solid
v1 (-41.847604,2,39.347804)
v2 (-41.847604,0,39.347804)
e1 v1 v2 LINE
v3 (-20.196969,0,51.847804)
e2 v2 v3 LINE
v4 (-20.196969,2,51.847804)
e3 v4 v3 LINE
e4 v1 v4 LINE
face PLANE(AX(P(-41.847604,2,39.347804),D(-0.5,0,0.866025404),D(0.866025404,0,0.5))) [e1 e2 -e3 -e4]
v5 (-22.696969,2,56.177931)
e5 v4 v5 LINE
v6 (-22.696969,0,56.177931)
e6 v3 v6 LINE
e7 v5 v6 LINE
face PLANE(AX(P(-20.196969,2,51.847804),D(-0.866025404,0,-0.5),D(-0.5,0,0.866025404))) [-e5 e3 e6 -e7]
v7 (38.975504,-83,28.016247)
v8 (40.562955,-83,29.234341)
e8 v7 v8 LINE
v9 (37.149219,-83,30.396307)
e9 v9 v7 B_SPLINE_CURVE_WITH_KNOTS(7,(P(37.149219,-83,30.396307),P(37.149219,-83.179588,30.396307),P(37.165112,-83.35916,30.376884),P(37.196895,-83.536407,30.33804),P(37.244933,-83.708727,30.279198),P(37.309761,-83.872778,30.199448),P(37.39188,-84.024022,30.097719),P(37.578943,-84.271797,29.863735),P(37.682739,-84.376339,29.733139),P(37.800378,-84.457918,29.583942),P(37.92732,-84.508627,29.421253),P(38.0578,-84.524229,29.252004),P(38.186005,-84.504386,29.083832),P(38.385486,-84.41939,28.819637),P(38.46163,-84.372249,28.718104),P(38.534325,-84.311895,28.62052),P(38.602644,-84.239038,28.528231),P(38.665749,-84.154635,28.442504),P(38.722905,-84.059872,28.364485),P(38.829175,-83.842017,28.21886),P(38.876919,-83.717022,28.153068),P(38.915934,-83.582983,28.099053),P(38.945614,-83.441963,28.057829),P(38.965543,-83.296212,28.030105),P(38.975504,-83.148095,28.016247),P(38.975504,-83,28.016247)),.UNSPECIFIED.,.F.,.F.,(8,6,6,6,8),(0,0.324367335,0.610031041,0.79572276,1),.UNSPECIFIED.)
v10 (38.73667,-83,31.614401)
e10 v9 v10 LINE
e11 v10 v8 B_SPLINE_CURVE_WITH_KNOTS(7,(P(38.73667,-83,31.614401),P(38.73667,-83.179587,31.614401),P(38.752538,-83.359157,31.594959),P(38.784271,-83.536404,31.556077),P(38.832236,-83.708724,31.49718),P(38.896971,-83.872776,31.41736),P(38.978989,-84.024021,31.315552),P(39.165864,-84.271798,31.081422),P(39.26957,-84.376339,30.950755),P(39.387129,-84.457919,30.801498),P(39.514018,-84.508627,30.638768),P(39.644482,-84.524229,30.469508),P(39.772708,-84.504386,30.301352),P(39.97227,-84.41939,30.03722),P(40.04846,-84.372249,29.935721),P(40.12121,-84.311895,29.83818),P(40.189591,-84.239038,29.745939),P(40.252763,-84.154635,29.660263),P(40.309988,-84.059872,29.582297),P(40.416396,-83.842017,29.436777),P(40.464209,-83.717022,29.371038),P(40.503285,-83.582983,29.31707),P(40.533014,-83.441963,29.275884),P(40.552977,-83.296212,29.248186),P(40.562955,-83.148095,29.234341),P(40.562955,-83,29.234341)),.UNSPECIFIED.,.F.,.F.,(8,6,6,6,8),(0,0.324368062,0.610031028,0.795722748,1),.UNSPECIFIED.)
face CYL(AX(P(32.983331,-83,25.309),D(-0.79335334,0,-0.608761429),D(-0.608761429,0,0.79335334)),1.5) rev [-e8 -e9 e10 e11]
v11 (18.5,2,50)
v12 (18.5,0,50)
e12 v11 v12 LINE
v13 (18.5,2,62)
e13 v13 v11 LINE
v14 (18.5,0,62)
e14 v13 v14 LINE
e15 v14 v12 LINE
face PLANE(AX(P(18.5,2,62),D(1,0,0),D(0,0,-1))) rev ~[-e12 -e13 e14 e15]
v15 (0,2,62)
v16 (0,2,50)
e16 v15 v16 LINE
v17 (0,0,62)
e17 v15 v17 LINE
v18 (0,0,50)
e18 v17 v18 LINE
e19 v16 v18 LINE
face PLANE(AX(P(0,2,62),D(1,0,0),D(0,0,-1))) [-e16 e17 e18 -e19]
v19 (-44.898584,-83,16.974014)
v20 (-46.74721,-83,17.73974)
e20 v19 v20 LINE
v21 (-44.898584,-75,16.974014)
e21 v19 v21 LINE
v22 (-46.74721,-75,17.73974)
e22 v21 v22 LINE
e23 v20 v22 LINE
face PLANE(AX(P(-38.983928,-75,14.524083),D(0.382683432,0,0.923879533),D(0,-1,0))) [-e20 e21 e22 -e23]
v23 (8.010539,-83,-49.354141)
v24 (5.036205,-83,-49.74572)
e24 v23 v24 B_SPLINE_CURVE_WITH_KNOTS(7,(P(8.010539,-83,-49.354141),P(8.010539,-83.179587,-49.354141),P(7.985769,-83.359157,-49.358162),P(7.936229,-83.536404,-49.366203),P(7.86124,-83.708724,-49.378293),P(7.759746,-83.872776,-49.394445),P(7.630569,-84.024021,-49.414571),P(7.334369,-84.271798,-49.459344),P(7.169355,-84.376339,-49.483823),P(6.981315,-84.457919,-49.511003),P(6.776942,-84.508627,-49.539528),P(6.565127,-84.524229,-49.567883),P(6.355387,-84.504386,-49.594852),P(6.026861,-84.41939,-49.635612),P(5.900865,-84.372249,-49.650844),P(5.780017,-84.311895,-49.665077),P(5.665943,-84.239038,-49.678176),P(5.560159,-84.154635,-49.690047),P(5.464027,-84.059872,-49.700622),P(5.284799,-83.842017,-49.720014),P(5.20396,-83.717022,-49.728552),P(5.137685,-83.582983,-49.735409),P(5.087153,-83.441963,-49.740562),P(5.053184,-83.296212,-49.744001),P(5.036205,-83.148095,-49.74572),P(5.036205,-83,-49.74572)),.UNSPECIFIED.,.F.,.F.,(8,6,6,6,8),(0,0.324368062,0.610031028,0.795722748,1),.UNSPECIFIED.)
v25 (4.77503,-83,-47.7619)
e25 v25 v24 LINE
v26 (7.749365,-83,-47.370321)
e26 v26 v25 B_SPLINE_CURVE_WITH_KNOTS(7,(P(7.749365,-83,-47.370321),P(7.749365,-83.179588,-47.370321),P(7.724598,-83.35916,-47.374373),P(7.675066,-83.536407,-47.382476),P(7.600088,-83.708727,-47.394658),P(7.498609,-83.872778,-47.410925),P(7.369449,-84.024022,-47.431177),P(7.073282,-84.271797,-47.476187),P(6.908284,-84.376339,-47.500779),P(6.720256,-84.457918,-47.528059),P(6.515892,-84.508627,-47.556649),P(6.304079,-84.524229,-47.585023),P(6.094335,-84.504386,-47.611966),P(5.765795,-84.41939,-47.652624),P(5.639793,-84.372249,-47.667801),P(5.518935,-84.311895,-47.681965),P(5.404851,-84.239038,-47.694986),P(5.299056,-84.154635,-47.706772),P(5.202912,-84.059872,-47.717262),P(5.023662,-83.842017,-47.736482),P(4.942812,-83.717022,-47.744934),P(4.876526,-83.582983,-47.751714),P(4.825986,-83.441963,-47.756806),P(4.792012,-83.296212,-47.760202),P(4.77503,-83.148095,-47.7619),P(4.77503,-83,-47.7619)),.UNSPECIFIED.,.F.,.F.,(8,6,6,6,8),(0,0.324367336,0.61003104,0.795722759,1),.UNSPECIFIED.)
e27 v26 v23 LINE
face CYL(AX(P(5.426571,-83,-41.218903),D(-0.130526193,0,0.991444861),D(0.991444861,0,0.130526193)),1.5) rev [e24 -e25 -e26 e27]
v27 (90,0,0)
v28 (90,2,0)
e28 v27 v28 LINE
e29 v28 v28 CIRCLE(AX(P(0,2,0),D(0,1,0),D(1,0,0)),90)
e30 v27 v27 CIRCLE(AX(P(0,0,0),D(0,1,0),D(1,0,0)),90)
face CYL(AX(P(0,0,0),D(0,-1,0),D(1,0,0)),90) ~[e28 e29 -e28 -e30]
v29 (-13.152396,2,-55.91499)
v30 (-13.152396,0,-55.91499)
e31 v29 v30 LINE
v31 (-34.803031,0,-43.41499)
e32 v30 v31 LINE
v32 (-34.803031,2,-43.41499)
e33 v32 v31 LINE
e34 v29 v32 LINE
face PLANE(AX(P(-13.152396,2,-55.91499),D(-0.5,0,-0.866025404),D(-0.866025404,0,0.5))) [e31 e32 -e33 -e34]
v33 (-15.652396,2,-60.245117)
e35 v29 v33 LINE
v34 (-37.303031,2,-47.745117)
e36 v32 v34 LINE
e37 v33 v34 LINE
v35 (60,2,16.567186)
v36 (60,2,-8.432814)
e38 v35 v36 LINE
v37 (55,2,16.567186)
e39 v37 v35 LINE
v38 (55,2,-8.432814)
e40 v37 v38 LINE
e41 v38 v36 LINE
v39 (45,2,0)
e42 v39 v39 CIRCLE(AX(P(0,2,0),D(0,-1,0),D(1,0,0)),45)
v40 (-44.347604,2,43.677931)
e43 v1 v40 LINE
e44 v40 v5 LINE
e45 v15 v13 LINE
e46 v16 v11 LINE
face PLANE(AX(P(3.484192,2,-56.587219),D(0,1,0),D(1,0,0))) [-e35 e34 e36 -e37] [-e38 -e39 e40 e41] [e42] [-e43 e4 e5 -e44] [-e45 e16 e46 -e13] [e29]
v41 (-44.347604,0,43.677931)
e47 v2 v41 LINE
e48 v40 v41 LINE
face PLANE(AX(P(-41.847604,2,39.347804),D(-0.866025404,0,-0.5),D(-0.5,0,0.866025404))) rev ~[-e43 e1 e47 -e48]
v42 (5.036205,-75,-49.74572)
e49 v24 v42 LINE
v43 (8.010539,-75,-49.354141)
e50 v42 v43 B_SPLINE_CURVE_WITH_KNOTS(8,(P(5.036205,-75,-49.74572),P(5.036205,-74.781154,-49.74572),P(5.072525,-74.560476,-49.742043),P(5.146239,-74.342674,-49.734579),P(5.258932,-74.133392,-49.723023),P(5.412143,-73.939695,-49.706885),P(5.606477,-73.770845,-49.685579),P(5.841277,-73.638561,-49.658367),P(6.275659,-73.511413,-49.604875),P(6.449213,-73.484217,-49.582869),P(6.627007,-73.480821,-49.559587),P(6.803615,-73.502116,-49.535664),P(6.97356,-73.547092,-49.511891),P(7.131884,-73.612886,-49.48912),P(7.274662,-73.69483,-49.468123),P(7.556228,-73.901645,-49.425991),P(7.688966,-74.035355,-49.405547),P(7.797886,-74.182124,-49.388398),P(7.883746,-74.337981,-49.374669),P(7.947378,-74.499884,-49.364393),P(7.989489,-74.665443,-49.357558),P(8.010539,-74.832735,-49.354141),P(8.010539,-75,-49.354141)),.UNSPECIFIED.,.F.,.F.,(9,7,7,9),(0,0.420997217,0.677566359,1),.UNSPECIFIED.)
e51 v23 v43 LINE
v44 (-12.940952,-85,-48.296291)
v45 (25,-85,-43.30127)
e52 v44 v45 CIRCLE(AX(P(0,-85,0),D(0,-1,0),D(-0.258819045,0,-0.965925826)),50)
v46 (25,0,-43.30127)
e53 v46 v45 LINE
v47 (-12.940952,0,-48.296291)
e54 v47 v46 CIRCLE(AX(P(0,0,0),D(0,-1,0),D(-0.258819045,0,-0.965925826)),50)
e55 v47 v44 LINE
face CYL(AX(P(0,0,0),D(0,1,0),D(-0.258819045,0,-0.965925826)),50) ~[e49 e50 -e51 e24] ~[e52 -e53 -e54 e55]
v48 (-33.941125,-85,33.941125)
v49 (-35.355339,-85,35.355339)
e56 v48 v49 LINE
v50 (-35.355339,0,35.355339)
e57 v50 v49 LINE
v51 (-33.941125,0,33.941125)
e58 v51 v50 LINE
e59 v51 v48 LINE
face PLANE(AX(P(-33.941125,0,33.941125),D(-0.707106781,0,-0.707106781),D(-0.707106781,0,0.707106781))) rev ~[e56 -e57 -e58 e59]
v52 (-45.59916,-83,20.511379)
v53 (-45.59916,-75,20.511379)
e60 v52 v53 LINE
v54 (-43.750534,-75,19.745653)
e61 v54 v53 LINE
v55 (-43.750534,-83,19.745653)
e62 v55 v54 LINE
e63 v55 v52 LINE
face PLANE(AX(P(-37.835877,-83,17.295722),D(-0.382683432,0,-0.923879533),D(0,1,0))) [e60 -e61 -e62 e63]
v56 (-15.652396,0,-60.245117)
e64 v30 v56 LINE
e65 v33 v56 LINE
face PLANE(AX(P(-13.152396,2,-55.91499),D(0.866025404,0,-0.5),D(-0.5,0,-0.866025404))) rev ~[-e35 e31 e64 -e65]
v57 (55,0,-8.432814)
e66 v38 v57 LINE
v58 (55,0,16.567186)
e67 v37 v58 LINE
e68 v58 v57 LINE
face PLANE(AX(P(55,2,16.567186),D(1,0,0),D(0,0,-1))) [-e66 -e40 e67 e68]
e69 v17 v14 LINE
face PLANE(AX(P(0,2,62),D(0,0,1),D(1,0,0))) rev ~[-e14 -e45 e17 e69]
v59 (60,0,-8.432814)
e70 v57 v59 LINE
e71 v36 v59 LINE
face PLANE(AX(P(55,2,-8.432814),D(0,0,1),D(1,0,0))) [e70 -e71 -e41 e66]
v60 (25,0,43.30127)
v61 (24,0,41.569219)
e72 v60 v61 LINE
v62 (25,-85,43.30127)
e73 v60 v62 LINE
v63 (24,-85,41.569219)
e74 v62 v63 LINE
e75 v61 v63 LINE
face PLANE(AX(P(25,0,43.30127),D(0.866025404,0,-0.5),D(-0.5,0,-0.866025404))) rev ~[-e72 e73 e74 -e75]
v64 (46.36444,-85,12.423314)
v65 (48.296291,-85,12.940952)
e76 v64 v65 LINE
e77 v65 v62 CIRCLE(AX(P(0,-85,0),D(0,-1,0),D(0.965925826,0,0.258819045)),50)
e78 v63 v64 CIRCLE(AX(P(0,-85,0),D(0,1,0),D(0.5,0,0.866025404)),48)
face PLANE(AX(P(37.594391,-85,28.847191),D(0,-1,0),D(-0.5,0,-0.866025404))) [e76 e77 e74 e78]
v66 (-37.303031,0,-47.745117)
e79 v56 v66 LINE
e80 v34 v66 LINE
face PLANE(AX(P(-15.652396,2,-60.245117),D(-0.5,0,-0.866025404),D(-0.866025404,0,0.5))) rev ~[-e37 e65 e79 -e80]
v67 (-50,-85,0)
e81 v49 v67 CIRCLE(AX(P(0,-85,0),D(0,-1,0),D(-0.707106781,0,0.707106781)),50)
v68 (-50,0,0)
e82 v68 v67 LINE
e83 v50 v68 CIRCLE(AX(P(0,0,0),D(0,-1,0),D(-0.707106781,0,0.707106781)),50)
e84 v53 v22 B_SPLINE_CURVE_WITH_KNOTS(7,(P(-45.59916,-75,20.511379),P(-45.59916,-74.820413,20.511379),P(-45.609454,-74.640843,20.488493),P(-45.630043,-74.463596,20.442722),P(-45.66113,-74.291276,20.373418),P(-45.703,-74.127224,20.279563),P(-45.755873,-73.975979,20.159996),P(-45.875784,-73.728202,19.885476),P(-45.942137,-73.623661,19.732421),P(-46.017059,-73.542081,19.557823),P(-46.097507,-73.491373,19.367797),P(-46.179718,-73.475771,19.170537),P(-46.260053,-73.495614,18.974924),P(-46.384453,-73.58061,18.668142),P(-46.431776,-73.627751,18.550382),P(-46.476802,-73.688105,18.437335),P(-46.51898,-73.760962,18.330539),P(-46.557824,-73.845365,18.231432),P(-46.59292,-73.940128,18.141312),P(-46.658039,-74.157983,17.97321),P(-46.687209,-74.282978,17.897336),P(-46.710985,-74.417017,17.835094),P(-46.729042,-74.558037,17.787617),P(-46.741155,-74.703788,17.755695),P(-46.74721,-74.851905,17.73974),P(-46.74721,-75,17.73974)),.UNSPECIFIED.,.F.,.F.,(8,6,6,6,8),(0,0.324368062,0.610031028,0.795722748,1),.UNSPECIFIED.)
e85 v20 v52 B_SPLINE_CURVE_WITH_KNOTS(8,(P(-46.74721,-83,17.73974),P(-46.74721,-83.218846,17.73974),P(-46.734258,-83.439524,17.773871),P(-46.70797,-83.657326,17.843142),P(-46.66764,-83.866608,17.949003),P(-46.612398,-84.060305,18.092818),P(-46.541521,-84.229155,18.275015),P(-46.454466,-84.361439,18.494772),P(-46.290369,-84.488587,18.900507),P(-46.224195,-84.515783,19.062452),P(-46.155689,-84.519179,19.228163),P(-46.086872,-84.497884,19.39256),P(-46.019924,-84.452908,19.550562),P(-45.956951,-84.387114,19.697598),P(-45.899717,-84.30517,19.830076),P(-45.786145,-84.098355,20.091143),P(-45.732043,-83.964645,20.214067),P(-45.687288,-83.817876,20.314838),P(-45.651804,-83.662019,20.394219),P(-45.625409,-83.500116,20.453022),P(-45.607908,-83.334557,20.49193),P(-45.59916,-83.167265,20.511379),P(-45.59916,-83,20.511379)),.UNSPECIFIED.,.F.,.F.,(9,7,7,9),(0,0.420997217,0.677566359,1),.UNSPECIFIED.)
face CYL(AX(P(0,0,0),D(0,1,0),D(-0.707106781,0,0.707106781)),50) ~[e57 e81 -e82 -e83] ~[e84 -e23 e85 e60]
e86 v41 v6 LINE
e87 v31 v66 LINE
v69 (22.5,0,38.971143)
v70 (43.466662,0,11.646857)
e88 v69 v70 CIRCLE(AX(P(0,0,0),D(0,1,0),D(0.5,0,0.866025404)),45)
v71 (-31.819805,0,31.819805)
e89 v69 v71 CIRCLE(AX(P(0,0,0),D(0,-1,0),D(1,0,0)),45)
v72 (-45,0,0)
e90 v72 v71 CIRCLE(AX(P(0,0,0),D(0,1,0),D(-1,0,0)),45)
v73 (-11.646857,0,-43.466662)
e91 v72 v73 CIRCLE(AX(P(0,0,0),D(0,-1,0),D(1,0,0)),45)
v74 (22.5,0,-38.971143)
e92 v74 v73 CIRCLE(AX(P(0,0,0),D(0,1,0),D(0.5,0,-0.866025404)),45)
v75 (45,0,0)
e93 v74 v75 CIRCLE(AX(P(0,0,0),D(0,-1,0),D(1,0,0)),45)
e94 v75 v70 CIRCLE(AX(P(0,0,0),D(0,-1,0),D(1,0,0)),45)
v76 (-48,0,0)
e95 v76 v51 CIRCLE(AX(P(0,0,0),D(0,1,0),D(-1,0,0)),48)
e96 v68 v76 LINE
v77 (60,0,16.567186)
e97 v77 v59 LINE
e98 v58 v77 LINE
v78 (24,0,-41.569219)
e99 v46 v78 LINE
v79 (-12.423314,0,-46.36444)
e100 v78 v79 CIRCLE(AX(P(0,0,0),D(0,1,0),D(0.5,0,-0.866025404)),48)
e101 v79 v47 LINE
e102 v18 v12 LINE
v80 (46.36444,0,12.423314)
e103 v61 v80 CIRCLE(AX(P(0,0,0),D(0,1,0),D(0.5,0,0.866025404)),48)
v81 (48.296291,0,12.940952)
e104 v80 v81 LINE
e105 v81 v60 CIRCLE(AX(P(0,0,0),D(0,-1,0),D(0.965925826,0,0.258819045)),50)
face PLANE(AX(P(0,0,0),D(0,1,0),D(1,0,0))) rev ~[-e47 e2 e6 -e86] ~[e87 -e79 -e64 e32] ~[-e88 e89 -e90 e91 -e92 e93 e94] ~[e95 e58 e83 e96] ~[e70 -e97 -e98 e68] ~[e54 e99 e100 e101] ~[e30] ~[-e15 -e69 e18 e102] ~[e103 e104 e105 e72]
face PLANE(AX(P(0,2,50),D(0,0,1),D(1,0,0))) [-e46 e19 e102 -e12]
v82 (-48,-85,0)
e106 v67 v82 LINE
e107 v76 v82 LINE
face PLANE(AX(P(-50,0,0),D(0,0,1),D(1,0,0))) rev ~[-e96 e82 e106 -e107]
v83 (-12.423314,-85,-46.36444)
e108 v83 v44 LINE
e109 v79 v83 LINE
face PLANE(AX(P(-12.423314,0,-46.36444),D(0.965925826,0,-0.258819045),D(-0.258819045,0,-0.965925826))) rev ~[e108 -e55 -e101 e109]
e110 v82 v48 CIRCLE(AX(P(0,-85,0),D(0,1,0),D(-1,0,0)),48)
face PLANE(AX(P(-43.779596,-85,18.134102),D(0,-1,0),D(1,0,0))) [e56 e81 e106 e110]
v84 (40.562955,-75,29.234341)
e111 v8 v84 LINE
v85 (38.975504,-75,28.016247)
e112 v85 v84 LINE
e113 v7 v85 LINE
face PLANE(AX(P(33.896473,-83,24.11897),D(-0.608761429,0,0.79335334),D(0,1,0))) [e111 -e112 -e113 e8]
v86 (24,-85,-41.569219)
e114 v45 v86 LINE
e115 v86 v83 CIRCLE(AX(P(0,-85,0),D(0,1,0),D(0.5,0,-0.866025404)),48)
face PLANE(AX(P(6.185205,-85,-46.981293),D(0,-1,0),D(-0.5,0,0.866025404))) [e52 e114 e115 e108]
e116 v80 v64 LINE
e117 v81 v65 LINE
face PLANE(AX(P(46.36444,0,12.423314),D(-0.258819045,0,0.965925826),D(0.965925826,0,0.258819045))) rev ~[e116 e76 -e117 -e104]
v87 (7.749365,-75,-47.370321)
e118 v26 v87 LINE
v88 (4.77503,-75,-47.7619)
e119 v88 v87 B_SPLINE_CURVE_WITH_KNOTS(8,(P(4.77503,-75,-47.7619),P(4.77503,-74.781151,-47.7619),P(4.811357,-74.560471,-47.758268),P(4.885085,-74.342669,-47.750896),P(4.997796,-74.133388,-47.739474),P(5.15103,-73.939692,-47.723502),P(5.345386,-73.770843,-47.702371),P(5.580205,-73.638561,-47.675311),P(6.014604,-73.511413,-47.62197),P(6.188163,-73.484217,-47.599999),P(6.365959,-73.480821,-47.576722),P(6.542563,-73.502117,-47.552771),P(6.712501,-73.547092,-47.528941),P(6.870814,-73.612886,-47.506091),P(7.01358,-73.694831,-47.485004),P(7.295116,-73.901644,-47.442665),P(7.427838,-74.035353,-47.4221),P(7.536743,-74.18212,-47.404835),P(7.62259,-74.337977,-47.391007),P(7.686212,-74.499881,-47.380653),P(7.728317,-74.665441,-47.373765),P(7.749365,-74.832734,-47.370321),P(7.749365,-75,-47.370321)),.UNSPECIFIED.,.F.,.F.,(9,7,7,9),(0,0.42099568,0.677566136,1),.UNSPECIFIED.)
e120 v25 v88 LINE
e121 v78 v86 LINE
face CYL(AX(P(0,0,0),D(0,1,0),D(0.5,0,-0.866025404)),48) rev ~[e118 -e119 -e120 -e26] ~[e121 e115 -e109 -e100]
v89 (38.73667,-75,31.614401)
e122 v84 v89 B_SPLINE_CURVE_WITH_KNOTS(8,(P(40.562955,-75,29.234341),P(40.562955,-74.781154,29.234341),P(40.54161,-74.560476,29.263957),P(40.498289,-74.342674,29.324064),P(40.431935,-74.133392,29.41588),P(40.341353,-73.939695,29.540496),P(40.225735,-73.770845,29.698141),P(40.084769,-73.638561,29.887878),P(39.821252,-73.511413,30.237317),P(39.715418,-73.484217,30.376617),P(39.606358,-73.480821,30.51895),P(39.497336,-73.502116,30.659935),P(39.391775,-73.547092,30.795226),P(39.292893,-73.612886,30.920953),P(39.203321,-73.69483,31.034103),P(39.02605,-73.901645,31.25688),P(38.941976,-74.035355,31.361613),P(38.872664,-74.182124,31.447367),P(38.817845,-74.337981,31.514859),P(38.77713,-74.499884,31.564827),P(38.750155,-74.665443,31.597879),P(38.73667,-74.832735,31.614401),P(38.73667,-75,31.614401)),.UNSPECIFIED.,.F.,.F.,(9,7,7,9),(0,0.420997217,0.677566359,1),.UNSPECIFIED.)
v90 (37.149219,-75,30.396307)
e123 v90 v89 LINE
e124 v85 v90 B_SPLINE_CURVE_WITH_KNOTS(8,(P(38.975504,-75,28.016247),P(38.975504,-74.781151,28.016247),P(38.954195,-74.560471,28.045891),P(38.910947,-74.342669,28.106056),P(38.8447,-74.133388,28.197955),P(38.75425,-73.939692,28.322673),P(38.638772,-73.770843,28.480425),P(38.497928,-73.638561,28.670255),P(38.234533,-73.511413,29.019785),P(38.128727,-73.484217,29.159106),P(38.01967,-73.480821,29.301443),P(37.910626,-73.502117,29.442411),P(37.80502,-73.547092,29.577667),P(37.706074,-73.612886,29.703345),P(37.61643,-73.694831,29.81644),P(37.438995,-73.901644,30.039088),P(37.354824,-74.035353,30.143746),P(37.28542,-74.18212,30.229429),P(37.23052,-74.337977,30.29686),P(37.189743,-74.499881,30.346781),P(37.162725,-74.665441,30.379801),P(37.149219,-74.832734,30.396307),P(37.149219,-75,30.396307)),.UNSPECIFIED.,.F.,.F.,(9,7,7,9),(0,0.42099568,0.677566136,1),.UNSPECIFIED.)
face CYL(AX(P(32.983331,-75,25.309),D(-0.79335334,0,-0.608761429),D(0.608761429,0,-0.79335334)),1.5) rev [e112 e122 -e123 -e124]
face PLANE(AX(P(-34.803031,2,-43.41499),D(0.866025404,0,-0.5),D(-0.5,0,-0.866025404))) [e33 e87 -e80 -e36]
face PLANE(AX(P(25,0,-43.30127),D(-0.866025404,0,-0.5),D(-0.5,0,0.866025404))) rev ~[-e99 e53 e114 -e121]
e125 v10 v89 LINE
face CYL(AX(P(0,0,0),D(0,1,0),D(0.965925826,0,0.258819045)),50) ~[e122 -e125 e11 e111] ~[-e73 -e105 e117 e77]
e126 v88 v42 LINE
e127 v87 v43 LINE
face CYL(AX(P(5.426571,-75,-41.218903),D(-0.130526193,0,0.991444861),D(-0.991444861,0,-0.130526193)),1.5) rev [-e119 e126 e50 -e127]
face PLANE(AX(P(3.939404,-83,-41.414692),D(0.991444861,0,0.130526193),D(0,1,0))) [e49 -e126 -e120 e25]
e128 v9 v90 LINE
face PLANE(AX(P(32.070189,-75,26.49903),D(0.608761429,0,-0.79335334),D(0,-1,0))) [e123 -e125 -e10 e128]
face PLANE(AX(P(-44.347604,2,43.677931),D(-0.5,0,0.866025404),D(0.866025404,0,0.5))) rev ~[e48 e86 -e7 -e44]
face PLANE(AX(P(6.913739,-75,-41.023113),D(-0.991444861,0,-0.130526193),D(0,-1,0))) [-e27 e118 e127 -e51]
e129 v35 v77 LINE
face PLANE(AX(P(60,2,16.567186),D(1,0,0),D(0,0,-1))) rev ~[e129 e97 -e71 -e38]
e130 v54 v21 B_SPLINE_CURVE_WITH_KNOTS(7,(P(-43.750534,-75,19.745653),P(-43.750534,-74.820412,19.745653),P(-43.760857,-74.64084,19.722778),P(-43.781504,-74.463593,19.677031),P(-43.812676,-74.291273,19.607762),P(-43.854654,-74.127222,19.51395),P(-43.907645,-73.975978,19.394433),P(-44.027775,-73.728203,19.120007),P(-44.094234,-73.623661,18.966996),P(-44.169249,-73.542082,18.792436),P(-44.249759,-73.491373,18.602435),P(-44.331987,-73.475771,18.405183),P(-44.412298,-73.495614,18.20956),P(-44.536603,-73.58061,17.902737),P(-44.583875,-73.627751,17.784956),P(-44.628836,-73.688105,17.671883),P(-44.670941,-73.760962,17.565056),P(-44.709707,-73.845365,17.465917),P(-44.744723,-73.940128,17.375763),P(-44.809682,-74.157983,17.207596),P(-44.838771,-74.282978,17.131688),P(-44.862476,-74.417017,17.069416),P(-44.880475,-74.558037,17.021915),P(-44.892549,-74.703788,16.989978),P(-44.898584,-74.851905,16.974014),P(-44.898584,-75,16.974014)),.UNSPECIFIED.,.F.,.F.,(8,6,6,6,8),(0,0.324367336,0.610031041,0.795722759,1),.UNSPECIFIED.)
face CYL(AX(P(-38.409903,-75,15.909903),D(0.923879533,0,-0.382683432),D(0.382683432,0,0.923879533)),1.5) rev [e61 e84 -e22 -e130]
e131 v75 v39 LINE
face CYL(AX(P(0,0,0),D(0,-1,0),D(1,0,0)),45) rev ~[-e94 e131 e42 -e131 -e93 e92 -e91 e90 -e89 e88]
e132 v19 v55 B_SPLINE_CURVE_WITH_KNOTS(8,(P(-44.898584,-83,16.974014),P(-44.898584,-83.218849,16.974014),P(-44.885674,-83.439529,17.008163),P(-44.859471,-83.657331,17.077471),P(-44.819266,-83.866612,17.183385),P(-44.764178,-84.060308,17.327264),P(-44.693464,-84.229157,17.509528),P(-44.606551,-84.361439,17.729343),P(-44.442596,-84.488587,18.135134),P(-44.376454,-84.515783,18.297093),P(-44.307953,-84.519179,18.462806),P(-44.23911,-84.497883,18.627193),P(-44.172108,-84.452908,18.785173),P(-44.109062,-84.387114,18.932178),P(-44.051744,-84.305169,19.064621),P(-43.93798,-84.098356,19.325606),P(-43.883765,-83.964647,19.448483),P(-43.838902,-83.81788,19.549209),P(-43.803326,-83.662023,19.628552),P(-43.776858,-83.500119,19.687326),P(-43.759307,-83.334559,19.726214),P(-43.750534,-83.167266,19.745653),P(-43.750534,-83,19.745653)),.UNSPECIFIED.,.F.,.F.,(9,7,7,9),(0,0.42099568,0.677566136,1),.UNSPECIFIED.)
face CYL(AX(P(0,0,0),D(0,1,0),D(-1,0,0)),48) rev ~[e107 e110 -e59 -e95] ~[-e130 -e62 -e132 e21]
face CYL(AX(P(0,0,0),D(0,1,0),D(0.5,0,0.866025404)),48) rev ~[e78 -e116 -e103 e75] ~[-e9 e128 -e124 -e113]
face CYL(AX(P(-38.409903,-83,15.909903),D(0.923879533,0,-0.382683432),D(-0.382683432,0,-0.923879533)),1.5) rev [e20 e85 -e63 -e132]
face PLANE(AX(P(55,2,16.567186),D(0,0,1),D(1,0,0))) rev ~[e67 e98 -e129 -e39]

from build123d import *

# Parameters (mm, degrees)
SKETCH3_R           = 90
BOSS_EXTRUDE3_DEPTH = 2
SKETCH4_R           = 45
CUT_EXTRUDE1_DEPTH  = 2
BOSS_EXTRUDE4_DEPTH = 85
BOSS_EXTRUDE5_DEPTH = 85
CUT_EXTRUDE9_DEPTH  = 10
CIRPATTERN4_COUNT   = 3
CUT_EXTRUDE5_DEPTH  = 60
SKETCH15_W          = 5
SKETCH15_H          = 25
CUT_EXTRUDE10_DEPTH = 88.0000001
CIRPATTERN5_COUNT   = 3
SKETCH16_R          = 46
CUT_EXTRUDE11_DEPTH = 85
BOSS_EXTRUDE6_DEPTH = 2
SKETCH18_W          = 18.5
SKETCH18_H          = 12
CUT_EXTRUDE12_DEPTH = 2


with BuildPart() as part:
    # Sketch3 → Boss-Extrude3 (new body)
    with BuildSketch(Plane(origin=(0, 0, 0), x_dir=(1, 0, 0), z_dir=(0, 1, 0))):
        Circle(SKETCH3_R)
    extrude(amount=BOSS_EXTRUDE3_DEPTH)

    # Sketch4 → Cut-Extrude1 (cut)
    with BuildSketch(Plane.XZ):
        Circle(SKETCH4_R)
    extrude(amount=-CUT_EXTRUDE1_DEPTH, mode=Mode.SUBTRACT)

    # Sketch6 → Boss-Extrude4 (add)
    with BuildSketch(Plane.XZ):
        with BuildLine():
            Line((-46, 0), (-45, 0))
            ThreePointArc((-45, 0), (-41.574578963, 17.220754456), (-31.819805153, 31.819805153))
            Line((-31.819805153, 31.819805153), (-32.526911935, 32.526911935))
            ThreePointArc((-32.526911935, 32.526911935), (-42.498458496, 17.603437889), (-46, 0))
        make_face()
    boss_extrude4 = extrude(amount=BOSS_EXTRUDE4_DEPTH)

    # Sketch6<3> → Boss-Extrude5 (add)
    with BuildSketch(Plane.XZ):
        with BuildLine():
            Line((-50, 0), (-48, 0))
            ThreePointArc((-48, 0), (-44.346217561, 18.368804754), (-33.941125497, 33.941125497))
            Line((-33.941125497, 33.941125497), (-35.355339059, 35.355339059))
            ThreePointArc((-35.355339059, 35.355339059), (-46.193976626, 19.134171618), (-50, 0))
        make_face()
    boss_extrude5 = extrude(amount=BOSS_EXTRUDE5_DEPTH)

    # Sketch14 → Cut-Extrude9 (cut)
    with BuildSketch(Plane(origin=(-38.409902577, 0, 15.909902577), x_dir=(-0.382683432, 0, -0.923879533), z_dir=(0.923879533, 0, -0.382683432))):
        with BuildLine():
            Line((1.5, -75), (1.5, -83))
            ThreePointArc((1.5, -83), (0, -84.5), (-1.5, -83))
            Line((-1.5, -83), (-1.5, -75))
            ThreePointArc((-1.5, -75), (0, -73.5), (1.5, -75))
        make_face()
    cut_extrude9 = extrude(amount=-CUT_EXTRUDE9_DEPTH, mode=Mode.SUBTRACT)

    # CirPattern4: Boss-Extrude4, Boss-Extrude5, Cut-Extrude9 ×3 about axis
    cirpattern4_axis = Axis((0, 0, 0), (0, 1, 0))
    for i in range(1, CIRPATTERN4_COUNT):
        add(boss_extrude4.rotate(cirpattern4_axis, i * 360 / CIRPATTERN4_COUNT))
        add(boss_extrude5.rotate(cirpattern4_axis, i * 360 / CIRPATTERN4_COUNT))
        add(cut_extrude9.rotate(cirpattern4_axis, i * 360 / CIRPATTERN4_COUNT), mode=Mode.SUBTRACT)

    # Sketch11 → Cut-Extrude5 (cut, symmetric)
    with BuildSketch(Plane.XZ):
        Polygon((-6.747570404, -52.479477871), (11.40662685, -48.919264104), (13.715954699, -60.69495962), (-4.438242555, -64.255173387), align=None)
    extrude(amount=CUT_EXTRUDE5_DEPTH, both=True, mode=Mode.SUBTRACT)

    # Sketch15 → Cut-Extrude10 (cut, through all)
    with BuildSketch(Plane(origin=(0, 2, 0), x_dir=(1, 0, 0), z_dir=(0, 1, 0))):
        with Locations((57.5, -4.067185812)):
            Rectangle(SKETCH15_W, SKETCH15_H)
    cut_extrude10 = extrude(amount=-CUT_EXTRUDE10_DEPTH, mode=Mode.SUBTRACT)

    # CirPattern5: Cut-Extrude10 ×3 about axis
    cirpattern5_axis = Axis((0, 0, 0), (0, 1, 0))
    for i in range(1, CIRPATTERN5_COUNT):
        add(cut_extrude10.rotate(cirpattern5_axis, i * 360 / CIRPATTERN5_COUNT), mode=Mode.SUBTRACT)

    # Sketch16 → Cut-Extrude11 (cut)
    with BuildSketch(Plane.XZ.offset(85)):
        Circle(SKETCH16_R)
    extrude(amount=-CUT_EXTRUDE11_DEPTH, mode=Mode.SUBTRACT)

    # Sketch17 → Boss-Extrude6 (add)
    with BuildSketch(Plane(origin=(0, 2, 0), x_dir=(1, 0, 0), z_dir=(0, 1, 0))):
        Polygon((13.715954699, 60.69495962), (-4.438242555, 64.255173387), (-6.747570404, 52.479477871), (11.40662685, 48.919264104), align=None)
    extrude(amount=-BOSS_EXTRUDE6_DEPTH)

    # Sketch18 → Cut-Extrude12 (cut)
    with BuildSketch(Plane(origin=(0, 2, 0), x_dir=(1, 0, 0), z_dir=(0, 1, 0))):
        with Locations((9.25, -56)):
            Rectangle(SKETCH18_W, SKETCH18_H)
    extrude(amount=-CUT_EXTRUDE12_DEPTH, mode=Mode.SUBTRACT)


solid = part.part
